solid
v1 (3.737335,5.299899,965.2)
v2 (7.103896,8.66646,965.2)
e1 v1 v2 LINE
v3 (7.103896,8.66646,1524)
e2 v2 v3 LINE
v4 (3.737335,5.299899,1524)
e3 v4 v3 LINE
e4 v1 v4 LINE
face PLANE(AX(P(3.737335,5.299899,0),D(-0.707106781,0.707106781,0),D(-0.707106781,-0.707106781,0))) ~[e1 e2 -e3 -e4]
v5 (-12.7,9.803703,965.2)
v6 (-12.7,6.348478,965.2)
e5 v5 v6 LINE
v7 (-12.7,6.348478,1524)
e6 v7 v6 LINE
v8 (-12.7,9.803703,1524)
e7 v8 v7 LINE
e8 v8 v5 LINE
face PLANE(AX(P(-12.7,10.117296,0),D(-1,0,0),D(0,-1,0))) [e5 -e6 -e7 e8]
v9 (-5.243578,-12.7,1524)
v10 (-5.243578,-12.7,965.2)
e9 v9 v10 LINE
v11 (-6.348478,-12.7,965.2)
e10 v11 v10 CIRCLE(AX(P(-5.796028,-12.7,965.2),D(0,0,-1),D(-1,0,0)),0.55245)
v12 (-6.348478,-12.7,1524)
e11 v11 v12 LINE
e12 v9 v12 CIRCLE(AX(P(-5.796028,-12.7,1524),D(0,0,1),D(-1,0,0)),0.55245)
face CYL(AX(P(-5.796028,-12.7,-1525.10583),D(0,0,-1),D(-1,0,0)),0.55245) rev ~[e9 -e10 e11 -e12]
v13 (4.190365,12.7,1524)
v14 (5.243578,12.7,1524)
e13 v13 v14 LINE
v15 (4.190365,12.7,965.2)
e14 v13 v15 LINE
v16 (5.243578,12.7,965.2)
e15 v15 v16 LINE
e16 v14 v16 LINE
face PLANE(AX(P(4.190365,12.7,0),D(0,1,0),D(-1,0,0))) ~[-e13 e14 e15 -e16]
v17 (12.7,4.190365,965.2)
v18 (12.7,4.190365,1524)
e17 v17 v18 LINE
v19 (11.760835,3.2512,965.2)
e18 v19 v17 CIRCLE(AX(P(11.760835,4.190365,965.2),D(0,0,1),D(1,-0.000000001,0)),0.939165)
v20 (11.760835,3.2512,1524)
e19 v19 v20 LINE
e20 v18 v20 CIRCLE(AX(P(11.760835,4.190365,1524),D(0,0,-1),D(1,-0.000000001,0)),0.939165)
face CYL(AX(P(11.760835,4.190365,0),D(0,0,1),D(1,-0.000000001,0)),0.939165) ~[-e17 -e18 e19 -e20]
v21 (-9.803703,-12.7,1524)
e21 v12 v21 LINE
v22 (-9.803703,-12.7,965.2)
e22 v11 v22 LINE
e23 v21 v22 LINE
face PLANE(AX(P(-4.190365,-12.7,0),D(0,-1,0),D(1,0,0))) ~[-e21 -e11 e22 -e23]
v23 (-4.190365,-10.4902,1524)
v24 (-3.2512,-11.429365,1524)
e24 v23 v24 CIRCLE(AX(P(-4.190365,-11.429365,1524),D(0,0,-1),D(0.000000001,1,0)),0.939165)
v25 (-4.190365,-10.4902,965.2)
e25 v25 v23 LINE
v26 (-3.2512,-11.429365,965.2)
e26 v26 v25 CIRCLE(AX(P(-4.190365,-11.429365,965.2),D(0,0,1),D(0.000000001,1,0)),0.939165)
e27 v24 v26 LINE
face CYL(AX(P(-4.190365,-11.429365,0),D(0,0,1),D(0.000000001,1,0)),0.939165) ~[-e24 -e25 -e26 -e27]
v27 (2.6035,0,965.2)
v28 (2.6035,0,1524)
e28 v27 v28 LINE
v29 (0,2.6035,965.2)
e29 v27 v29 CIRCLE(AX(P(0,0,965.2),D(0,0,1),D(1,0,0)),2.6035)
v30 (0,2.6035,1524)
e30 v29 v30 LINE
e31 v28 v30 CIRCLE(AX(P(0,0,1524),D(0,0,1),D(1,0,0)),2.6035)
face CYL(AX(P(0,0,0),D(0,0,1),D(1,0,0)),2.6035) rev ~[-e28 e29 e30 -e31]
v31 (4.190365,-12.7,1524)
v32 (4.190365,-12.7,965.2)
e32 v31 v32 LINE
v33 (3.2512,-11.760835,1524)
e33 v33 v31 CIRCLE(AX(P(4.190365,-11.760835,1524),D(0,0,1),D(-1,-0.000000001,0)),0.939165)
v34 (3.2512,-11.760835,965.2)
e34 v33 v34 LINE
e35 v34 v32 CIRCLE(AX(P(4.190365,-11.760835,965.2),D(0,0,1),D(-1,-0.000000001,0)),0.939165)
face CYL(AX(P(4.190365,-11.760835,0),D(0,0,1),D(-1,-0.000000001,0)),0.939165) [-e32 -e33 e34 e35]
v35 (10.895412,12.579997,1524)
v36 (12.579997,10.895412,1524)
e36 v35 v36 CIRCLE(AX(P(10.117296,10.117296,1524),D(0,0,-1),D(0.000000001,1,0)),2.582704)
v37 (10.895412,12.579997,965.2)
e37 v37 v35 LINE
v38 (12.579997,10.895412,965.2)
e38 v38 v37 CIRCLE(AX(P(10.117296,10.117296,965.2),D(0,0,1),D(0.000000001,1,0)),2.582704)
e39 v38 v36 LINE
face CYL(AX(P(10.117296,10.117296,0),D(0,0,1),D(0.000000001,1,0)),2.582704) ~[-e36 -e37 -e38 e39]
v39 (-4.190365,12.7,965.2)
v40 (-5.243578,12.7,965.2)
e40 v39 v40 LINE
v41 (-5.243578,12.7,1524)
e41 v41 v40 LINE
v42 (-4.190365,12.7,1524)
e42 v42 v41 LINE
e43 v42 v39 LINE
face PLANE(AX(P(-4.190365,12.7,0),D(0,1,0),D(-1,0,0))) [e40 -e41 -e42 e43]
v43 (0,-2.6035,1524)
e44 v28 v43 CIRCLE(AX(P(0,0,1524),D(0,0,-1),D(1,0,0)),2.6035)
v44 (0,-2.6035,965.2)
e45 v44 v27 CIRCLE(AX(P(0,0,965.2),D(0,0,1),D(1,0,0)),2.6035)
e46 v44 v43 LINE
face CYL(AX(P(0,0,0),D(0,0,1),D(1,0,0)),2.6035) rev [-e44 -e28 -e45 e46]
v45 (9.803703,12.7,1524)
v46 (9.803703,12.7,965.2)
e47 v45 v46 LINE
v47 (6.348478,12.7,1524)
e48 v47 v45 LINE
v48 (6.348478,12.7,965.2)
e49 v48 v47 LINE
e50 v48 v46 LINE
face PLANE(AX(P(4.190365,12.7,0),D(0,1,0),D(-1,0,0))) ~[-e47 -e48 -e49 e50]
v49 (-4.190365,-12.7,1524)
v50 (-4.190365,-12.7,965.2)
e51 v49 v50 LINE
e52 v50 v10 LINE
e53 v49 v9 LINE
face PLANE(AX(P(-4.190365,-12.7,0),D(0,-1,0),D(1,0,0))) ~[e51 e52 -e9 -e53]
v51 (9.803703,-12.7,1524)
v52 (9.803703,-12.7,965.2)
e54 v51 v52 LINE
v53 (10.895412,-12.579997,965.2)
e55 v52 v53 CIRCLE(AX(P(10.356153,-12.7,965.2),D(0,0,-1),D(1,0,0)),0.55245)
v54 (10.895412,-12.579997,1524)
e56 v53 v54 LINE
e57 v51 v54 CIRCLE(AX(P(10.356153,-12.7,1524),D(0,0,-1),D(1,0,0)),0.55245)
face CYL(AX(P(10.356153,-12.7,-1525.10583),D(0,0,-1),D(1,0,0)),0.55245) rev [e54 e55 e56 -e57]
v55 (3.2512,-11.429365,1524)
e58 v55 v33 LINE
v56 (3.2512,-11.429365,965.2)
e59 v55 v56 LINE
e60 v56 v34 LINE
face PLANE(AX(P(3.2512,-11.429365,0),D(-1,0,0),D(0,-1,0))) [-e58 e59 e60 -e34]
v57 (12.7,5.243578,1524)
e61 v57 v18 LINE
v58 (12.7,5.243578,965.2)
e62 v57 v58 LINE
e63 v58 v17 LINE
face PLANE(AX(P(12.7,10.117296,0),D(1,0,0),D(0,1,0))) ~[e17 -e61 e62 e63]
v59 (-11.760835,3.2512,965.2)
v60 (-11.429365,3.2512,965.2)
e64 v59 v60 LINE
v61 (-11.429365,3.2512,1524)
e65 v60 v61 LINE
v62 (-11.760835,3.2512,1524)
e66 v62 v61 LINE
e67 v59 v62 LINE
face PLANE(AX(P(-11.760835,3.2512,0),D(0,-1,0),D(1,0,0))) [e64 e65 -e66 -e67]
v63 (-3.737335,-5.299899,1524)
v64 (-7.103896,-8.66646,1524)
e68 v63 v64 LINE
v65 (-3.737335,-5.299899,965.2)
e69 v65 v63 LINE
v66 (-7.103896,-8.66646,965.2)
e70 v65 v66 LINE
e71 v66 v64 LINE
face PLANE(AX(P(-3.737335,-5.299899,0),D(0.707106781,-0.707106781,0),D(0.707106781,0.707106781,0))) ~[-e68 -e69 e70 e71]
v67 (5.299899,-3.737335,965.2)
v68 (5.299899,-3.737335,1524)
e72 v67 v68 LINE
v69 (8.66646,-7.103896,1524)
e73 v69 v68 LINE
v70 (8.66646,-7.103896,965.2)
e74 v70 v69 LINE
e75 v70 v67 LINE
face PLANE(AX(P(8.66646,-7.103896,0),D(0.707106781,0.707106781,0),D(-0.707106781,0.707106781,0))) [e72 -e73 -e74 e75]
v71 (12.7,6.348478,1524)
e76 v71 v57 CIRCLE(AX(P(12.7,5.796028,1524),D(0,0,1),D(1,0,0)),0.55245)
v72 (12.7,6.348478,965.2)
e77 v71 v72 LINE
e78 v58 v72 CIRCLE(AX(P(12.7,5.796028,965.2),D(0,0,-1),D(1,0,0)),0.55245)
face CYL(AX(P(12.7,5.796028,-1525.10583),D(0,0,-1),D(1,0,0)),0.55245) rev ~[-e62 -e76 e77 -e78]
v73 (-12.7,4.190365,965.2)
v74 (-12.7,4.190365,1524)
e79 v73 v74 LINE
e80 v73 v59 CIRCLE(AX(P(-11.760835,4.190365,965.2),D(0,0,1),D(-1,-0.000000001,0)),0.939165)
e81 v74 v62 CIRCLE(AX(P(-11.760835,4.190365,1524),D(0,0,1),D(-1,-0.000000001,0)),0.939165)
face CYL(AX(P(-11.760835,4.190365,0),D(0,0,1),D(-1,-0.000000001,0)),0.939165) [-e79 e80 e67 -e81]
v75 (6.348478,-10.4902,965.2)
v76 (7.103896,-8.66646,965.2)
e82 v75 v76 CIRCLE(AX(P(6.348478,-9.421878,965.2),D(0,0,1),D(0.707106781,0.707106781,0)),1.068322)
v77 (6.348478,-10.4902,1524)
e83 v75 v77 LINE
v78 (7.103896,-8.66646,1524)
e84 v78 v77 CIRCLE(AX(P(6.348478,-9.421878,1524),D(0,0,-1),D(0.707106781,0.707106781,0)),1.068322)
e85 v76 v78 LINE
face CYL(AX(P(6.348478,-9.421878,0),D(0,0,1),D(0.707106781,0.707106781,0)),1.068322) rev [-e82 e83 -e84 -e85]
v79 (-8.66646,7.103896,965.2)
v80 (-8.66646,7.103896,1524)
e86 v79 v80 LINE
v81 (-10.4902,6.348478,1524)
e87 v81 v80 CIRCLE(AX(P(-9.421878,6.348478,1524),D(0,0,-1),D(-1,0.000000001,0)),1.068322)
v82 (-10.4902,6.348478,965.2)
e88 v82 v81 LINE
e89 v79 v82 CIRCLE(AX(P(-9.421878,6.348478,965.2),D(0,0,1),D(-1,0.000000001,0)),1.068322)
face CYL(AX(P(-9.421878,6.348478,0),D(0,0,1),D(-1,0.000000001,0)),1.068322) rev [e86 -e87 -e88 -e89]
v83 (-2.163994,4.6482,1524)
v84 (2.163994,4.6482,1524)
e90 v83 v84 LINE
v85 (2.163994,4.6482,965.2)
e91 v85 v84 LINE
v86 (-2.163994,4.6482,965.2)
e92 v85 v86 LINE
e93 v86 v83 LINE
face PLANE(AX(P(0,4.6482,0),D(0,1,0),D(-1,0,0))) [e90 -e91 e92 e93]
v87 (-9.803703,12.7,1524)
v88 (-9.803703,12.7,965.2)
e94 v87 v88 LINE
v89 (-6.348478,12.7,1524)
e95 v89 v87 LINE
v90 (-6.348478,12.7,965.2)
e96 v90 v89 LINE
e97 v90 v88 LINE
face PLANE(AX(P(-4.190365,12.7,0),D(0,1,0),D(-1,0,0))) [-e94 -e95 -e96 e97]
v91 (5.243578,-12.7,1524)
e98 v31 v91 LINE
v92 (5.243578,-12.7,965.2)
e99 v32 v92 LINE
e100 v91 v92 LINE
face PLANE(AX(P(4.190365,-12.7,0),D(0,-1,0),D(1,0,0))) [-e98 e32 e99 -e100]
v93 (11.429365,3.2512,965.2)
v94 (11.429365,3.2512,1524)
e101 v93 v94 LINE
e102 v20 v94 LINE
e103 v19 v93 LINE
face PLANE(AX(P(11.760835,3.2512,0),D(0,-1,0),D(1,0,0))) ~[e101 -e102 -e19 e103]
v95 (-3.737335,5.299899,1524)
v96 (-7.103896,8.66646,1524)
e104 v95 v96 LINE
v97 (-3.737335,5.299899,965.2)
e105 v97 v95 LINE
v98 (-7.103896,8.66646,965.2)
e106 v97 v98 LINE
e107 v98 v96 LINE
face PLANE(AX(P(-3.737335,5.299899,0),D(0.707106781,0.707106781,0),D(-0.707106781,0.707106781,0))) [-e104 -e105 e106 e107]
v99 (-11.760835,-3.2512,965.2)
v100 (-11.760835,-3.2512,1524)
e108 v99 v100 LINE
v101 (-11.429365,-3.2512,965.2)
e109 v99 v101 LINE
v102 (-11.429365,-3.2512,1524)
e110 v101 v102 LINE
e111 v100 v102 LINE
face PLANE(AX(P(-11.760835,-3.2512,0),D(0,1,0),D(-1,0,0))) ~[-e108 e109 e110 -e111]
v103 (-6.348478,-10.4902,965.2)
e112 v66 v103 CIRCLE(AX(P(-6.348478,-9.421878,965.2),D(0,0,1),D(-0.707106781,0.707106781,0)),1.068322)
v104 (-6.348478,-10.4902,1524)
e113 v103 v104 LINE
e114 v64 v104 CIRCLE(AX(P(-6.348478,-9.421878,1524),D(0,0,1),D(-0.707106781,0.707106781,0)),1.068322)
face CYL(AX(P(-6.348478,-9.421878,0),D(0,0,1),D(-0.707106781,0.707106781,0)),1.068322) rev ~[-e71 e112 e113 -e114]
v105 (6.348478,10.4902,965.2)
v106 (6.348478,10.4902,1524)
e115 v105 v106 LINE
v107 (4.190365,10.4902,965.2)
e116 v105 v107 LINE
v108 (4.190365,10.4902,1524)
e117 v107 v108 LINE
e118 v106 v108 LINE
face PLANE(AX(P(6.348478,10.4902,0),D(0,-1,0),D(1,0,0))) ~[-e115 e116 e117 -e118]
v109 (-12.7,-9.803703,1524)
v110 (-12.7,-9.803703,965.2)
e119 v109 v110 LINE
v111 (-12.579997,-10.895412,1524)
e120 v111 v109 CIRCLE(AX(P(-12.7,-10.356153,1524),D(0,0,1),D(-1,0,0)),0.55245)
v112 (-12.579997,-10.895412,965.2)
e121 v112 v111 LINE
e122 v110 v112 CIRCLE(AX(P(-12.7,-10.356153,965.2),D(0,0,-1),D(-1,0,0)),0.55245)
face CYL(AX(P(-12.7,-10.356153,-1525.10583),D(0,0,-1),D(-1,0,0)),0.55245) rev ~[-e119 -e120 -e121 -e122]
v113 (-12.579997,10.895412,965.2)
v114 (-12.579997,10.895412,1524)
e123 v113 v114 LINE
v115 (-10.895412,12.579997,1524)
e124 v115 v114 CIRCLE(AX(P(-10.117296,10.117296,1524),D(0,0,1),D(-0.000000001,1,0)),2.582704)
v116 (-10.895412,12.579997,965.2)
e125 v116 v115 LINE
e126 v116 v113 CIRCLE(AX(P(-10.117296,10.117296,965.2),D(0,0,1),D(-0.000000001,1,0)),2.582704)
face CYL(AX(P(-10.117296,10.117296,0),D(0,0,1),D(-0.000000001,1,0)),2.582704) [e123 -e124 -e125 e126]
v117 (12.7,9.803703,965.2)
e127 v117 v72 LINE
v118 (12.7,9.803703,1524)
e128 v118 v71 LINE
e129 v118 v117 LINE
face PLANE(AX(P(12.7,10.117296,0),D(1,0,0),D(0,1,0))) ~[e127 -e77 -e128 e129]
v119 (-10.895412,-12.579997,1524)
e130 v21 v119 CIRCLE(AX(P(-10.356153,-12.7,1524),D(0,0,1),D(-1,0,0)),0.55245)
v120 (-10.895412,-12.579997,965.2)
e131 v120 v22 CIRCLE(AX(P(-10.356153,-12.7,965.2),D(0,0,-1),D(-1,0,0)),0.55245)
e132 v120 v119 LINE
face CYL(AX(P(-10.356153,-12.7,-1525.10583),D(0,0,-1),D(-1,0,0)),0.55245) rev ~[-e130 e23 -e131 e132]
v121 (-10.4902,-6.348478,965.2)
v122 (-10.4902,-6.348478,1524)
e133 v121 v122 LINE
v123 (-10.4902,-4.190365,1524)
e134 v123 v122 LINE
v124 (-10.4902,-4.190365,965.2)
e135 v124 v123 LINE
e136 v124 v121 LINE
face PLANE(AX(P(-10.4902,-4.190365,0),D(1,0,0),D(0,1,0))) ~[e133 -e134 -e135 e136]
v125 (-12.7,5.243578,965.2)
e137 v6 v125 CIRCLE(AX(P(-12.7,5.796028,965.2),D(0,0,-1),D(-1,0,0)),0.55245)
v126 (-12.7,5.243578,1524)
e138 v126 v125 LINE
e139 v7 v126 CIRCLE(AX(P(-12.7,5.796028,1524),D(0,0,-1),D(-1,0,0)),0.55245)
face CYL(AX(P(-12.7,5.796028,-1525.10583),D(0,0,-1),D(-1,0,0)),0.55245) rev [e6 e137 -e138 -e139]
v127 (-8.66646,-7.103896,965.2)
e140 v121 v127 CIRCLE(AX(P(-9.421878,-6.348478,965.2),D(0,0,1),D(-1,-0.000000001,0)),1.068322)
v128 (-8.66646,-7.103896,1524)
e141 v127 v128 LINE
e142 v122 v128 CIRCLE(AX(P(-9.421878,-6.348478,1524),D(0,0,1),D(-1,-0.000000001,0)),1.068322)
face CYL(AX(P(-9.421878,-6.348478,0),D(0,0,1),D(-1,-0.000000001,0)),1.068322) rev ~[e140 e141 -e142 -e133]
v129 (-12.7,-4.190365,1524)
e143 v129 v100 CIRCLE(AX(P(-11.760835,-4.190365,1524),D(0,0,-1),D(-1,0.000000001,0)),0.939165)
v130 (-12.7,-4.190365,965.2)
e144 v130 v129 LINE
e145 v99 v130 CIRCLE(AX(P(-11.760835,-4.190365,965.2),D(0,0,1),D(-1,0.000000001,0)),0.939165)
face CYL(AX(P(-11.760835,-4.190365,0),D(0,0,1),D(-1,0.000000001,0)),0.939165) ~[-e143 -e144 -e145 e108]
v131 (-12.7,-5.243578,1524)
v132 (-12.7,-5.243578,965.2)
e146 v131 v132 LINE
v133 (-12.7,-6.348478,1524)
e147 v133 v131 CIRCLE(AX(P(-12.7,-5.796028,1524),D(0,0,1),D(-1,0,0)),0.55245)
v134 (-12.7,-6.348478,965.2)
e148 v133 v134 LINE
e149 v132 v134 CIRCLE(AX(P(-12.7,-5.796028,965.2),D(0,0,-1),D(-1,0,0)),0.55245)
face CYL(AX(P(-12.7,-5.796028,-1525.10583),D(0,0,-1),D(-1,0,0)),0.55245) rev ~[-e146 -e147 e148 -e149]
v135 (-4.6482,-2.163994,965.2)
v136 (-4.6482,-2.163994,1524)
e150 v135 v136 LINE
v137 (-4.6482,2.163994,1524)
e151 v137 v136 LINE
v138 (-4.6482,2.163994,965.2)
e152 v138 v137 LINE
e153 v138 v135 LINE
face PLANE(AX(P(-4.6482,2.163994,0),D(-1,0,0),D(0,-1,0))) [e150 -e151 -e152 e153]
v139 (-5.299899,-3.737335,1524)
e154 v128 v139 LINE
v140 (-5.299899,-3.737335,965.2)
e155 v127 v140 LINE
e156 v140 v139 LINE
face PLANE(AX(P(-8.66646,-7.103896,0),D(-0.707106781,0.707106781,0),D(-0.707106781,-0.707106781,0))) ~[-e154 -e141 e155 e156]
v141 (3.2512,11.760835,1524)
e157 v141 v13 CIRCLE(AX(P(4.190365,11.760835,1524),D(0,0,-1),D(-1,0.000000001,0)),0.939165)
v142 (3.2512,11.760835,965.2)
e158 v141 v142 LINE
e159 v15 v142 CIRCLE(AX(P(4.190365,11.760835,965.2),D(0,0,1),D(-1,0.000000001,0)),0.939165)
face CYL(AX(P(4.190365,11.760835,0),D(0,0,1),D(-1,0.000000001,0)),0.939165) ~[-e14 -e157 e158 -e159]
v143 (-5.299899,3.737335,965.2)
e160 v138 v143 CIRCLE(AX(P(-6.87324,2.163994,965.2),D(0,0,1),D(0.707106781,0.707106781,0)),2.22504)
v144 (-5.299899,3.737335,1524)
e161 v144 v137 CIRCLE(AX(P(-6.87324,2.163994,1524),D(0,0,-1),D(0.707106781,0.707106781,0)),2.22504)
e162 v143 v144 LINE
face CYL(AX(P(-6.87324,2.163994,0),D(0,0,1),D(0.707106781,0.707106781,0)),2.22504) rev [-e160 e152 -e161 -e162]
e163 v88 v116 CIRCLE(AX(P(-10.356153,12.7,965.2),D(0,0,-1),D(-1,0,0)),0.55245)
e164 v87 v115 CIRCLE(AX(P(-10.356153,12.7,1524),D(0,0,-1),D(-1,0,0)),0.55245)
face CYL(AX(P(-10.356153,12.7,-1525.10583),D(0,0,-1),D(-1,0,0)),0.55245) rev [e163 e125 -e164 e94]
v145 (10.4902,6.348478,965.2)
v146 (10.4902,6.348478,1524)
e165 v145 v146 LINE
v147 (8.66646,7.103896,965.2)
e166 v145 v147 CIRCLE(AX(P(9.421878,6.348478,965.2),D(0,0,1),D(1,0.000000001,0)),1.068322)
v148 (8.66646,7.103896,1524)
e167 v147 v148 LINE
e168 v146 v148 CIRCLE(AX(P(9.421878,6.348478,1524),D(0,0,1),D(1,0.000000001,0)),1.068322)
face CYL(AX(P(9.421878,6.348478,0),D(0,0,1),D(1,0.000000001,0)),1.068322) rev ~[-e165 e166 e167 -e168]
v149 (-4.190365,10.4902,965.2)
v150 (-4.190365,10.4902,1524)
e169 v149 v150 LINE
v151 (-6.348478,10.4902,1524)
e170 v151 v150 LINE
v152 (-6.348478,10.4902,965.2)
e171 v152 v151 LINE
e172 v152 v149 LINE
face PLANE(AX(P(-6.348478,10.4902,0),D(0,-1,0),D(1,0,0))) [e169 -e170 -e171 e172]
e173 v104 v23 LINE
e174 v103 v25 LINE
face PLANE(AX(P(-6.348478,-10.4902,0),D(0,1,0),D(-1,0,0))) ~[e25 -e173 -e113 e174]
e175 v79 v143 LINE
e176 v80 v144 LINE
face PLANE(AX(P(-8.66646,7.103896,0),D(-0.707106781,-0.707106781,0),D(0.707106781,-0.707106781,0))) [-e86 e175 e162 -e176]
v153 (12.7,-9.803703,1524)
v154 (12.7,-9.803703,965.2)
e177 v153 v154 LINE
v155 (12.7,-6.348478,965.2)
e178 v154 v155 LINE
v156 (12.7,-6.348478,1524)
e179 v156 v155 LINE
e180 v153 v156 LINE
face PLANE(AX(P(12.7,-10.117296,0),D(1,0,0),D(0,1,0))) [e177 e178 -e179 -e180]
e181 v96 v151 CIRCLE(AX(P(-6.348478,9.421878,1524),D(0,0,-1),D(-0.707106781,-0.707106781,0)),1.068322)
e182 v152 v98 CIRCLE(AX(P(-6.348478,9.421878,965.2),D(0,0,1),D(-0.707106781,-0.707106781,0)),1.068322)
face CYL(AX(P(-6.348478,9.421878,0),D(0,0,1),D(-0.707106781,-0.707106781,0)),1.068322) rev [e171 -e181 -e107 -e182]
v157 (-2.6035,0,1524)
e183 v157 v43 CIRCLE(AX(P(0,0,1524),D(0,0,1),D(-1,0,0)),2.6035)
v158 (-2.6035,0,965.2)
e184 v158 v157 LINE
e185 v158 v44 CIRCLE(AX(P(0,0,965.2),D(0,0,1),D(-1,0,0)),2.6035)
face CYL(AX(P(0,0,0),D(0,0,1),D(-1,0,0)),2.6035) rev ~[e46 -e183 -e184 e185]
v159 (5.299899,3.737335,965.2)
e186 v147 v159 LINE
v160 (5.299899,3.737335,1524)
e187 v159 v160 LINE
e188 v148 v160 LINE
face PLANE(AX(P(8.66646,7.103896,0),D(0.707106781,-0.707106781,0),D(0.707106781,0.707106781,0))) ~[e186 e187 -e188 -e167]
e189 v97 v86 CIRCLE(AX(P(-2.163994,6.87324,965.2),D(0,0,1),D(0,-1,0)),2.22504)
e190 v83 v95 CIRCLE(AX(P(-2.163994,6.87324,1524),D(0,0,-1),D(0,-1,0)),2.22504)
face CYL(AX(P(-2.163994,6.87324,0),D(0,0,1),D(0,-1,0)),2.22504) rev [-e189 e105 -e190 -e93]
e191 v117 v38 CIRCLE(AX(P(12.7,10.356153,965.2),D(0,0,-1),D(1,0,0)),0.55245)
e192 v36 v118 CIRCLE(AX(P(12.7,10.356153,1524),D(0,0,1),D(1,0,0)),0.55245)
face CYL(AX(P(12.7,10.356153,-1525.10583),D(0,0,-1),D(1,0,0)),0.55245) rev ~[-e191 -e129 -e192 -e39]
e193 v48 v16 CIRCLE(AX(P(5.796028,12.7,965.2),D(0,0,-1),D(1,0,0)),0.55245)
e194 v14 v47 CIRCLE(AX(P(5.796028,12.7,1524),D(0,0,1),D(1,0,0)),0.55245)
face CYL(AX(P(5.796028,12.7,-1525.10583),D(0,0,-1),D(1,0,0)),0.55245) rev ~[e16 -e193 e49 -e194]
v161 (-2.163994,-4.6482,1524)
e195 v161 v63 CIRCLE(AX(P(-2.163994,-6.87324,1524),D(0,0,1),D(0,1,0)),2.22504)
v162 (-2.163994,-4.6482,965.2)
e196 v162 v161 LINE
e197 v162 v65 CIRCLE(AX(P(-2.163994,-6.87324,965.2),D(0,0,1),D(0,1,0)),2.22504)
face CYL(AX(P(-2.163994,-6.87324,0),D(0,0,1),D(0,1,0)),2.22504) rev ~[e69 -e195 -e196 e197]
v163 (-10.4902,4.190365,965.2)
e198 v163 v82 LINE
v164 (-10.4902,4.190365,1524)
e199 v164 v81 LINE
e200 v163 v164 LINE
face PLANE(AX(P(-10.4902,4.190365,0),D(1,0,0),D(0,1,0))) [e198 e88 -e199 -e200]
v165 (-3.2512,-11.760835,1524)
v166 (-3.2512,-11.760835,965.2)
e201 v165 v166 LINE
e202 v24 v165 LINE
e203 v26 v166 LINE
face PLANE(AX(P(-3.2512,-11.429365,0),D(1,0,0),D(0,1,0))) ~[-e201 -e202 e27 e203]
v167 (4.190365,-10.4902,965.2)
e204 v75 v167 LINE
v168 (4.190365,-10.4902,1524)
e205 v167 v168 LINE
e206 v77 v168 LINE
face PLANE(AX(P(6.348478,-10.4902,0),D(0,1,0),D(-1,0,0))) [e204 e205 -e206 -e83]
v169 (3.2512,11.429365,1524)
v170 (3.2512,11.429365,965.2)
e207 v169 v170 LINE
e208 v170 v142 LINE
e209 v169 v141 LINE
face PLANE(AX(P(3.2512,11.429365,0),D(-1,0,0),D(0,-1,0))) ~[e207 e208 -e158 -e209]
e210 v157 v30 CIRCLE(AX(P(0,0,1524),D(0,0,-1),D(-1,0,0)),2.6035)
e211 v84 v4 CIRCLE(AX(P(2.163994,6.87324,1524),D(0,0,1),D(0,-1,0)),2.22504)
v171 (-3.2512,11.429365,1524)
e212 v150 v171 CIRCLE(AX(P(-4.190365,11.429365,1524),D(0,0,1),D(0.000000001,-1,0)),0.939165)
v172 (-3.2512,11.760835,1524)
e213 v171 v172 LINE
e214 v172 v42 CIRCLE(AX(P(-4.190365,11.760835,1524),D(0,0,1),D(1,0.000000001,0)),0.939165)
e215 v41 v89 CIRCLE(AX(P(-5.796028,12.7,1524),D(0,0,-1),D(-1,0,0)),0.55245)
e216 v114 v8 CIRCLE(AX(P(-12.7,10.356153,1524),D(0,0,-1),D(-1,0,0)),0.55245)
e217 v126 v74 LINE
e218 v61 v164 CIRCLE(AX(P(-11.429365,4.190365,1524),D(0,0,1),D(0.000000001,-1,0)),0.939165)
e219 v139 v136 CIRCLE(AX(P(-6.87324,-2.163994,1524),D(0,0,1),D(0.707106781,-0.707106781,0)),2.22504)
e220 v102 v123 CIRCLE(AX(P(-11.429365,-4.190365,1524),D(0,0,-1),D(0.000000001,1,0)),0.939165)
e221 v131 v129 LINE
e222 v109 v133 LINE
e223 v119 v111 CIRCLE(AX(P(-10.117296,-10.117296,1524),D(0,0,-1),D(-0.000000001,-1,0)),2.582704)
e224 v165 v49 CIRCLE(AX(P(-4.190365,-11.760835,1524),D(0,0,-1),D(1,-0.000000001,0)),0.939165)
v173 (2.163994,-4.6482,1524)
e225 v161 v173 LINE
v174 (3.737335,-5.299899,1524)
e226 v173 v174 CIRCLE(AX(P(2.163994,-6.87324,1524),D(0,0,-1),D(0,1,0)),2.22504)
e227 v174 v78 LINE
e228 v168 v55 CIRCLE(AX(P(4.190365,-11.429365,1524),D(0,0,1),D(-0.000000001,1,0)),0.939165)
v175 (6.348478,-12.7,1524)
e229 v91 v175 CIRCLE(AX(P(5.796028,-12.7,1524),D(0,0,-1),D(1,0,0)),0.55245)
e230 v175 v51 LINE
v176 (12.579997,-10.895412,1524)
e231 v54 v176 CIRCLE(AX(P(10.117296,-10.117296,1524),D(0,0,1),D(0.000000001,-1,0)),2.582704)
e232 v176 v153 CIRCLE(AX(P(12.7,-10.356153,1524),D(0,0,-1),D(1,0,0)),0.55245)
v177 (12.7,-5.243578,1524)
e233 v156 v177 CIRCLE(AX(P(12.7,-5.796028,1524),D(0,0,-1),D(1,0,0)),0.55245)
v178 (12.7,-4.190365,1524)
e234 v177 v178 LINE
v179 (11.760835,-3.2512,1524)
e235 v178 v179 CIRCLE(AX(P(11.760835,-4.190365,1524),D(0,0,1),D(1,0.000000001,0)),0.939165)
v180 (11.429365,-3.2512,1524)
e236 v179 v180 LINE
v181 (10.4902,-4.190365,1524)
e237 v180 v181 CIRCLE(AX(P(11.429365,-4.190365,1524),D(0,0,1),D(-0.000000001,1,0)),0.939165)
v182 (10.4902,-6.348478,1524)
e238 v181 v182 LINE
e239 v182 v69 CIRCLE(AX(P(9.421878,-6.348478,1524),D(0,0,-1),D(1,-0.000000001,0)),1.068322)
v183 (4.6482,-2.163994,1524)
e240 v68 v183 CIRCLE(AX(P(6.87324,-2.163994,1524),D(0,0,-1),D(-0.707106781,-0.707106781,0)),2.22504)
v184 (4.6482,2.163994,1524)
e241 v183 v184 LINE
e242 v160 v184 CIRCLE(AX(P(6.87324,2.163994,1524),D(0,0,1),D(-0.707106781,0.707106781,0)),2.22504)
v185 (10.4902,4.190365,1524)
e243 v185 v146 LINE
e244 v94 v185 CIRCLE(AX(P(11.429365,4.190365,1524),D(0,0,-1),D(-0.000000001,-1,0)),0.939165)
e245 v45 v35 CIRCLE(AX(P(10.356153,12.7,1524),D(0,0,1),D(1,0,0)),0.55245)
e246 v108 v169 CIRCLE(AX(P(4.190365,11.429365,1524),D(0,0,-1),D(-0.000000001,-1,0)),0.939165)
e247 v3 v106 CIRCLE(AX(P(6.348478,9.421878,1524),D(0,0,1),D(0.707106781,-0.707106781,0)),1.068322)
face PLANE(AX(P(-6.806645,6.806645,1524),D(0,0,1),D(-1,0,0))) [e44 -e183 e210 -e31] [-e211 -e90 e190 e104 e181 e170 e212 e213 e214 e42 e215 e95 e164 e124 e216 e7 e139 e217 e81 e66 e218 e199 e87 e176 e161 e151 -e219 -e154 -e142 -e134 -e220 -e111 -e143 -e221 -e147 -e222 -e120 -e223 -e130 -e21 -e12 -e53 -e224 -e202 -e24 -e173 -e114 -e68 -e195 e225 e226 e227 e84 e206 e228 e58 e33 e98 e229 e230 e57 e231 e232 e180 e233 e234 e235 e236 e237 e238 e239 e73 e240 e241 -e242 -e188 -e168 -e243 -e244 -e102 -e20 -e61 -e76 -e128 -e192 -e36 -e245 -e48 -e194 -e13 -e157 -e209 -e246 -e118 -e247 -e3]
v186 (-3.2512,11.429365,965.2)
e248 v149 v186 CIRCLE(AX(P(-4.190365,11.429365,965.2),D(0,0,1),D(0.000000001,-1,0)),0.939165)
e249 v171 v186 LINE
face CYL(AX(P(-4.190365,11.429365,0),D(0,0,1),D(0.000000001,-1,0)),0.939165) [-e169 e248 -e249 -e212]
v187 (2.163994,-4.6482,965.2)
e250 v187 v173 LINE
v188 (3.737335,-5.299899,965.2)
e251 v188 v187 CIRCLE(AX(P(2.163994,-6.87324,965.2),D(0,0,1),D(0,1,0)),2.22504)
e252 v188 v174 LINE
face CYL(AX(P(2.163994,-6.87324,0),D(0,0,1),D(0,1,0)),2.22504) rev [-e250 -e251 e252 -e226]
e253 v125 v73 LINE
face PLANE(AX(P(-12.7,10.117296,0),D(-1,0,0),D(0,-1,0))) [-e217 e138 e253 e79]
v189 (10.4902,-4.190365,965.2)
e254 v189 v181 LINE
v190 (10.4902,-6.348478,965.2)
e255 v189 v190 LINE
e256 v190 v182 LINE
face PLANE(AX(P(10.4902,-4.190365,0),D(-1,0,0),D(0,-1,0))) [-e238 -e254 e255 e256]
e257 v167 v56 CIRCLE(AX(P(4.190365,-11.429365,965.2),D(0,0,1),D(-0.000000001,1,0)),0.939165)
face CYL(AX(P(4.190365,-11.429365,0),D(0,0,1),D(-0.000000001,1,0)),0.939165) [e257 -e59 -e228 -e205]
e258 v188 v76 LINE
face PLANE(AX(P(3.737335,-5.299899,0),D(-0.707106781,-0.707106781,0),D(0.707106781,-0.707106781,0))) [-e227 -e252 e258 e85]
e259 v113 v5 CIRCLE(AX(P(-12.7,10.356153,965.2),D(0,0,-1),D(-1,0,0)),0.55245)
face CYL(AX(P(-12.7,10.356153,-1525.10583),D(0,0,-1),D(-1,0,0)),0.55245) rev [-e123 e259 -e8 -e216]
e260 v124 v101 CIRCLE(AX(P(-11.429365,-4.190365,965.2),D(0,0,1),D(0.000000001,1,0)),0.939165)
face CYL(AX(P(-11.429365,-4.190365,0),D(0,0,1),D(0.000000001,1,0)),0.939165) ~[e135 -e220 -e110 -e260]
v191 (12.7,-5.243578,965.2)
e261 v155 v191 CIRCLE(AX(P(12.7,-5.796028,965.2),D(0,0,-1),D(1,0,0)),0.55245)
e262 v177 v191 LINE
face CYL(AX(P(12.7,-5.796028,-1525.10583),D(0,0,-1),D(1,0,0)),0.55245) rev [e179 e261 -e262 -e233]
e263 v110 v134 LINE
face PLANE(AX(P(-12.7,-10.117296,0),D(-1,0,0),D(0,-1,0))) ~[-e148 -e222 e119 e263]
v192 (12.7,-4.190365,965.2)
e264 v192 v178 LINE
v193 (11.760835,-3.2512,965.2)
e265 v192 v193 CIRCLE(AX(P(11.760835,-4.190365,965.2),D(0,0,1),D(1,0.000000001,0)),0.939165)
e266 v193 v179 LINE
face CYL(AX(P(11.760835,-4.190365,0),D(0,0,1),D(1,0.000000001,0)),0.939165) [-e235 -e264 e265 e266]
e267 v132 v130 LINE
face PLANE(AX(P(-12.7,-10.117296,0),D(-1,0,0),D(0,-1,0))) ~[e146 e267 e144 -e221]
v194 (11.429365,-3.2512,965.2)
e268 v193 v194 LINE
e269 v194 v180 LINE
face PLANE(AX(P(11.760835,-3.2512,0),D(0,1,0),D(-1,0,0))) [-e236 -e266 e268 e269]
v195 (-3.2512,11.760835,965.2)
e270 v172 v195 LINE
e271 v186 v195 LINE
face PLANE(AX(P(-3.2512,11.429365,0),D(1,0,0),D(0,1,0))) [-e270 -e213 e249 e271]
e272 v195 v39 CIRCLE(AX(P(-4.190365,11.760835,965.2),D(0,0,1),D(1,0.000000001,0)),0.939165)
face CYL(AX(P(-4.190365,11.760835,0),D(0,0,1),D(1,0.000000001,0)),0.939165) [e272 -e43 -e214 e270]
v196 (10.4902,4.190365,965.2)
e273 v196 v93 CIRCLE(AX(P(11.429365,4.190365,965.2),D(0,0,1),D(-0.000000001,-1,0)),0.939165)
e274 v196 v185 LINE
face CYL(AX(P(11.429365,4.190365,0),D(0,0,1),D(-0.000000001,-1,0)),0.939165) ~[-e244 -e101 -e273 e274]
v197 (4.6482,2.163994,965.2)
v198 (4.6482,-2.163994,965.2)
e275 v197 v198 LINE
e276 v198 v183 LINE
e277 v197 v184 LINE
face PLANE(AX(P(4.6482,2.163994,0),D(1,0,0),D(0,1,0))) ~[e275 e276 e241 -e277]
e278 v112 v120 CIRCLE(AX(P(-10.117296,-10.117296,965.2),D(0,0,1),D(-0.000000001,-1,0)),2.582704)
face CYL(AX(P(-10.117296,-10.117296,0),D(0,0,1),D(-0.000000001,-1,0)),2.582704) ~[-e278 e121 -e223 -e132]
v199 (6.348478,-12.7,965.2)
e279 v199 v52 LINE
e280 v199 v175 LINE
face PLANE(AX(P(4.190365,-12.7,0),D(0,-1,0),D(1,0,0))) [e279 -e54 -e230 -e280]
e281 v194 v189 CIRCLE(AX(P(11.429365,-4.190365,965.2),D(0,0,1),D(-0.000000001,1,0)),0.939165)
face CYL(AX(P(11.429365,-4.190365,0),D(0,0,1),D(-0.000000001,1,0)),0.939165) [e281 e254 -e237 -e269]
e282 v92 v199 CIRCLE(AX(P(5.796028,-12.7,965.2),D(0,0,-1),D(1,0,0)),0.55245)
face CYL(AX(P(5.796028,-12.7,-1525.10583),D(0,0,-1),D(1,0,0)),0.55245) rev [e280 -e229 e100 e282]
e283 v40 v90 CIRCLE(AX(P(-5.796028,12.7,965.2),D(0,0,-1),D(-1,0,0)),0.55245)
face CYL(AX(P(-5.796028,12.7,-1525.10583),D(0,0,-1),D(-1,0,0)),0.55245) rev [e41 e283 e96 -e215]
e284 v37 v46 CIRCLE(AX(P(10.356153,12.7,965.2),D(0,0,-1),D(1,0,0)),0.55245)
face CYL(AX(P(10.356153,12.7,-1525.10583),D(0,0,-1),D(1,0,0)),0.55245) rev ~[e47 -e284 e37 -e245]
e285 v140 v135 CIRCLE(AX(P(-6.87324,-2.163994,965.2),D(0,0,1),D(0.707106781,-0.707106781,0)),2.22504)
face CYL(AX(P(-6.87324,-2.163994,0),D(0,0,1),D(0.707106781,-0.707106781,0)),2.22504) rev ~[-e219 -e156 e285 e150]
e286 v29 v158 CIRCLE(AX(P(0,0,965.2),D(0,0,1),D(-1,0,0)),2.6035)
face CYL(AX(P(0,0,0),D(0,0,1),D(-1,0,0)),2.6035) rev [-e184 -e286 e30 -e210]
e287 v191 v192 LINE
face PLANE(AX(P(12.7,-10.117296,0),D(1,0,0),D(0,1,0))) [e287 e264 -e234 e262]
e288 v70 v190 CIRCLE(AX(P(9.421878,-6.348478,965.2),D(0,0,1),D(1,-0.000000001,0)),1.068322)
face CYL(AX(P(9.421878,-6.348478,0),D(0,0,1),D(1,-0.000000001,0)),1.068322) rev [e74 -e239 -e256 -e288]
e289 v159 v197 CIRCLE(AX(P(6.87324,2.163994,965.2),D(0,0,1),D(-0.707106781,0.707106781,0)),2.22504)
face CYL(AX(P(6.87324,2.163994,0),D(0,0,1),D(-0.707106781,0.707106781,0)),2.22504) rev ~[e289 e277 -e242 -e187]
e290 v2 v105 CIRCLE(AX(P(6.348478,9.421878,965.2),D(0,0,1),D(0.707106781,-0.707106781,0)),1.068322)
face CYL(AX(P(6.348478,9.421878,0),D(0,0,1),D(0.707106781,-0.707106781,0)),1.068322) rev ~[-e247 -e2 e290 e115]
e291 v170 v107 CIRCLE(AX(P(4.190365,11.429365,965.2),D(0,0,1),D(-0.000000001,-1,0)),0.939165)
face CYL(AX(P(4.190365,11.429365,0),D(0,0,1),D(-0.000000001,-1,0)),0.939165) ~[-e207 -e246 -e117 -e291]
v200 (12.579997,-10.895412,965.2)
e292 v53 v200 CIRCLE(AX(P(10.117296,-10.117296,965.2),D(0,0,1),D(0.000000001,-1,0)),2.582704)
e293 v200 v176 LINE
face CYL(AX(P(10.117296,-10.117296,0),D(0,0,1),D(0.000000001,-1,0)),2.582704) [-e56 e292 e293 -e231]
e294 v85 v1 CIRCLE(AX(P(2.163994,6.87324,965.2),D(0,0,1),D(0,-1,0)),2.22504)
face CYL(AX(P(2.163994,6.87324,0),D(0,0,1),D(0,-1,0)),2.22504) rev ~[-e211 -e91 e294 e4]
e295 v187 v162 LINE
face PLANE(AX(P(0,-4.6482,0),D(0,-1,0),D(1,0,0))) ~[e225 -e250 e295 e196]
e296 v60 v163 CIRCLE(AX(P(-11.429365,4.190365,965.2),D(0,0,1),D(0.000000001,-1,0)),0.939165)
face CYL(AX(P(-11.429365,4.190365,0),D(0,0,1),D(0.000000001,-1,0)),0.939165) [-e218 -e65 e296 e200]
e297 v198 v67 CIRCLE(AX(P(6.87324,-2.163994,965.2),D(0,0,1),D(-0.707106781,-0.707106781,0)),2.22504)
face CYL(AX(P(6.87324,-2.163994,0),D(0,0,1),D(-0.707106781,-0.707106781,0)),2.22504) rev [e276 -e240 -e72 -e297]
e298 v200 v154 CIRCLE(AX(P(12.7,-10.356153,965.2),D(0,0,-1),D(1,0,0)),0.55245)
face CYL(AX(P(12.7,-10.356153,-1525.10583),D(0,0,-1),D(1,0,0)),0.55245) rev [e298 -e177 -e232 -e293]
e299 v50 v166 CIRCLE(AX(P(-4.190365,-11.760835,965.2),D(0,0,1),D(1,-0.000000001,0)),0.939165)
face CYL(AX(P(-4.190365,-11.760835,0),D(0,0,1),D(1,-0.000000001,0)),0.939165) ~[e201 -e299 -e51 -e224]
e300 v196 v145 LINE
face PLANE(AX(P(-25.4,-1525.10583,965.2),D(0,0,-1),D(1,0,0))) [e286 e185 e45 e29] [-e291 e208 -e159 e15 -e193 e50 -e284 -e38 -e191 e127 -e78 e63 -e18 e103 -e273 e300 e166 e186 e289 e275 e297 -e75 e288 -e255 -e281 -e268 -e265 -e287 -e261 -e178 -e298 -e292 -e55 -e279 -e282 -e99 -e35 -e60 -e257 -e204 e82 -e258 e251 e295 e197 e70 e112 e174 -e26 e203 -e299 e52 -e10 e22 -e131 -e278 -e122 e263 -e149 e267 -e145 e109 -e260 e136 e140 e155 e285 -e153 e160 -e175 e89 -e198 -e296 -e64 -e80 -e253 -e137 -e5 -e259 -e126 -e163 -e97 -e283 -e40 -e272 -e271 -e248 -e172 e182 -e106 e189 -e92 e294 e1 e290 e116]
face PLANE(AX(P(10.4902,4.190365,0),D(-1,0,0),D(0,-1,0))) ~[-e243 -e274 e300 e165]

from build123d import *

# Parameters (mm, degrees)
BOSS_EXTRUDE1_DEPTH     = 1524
CUT_EXTRUDE1_DEPTH      = 1525.105829659
CUT_EXTRUDE1_DEPTH_BACK = 1525.105829659
SKETCH5_R               = 0.55245
CUT_EXTRUDE2_DEPTH      = 1525.105829659
CUT_EXTRUDE2_DEPTH_BACK = 1525.105829659
SKETCH8_W               = 50.559993734
SKETCH8_H               = 1231.9
CUT_EXTRUDE3_DEPTH      = 1525.105829659
CUT_EXTRUDE3_DEPTH_BACK = 1525.105829659
SKETCH9_W               = 50.679996867
SKETCH9_H               = 1282.7


with BuildPart() as part:
    # Sketch4 → Boss-Extrude1 (new, symmetric)
    with BuildSketch(Plane.XY):
        with BuildLine():
            Line((4.190365, -12.7), (10.11729625, -12.7))
            ThreePointArc((10.11729625, -12.7), (11.943543585, -11.943543585), (12.7, -10.11729625))
            Line((12.7, -10.11729625), (12.7, -4.190365))
            ThreePointArc((12.7, -4.190365), (12.42492494, -3.52627506), (11.760835, -3.2512))
            Line((11.760835, -3.2512), (11.429365, -3.2512))
            ThreePointArc((11.429365, -3.2512), (10.76527506, -3.52627506), (10.4902, -4.190365))
            Line((10.4902, -4.190365), (10.4902, -6.348478019))
            ThreePointArc((10.4902, -6.348478019), (9.830707141, -7.335478831), (8.666460301, -7.103895736))
            Line((8.666460301, -7.103895736), (5.299899128, -3.737334563))
            ThreePointArc((5.299899128, -3.737334563), (4.817571085, -3.015479634), (4.6482, -2.16399369))
            Line((4.6482, -2.16399369), (4.6482, 0))
            Line((4.6482, 0), (2.6035, 0))
            ThreePointArc((2.6035, 0), (1.840952505, -1.840952505), (0, -2.6035))
            Line((0, -2.6035), (0, -4.6482))
            Line((0, -4.6482), (2.16399369, -4.6482))
            ThreePointArc((2.16399369, -4.6482), (3.015479634, -4.817571085), (3.737334563, -5.299899128))
            Line((3.737334563, -5.299899128), (7.103895736, -8.666460301))
            ThreePointArc((7.103895736, -8.666460301), (7.335478831, -9.830707141), (6.348478019, -10.4902))
            Line((6.348478019, -10.4902), (4.190365, -10.4902))
            ThreePointArc((4.190365, -10.4902), (3.52627506, -10.76527506), (3.2512, -11.429365))
            Line((3.2512, -11.429365), (3.2512, -11.760835))
            ThreePointArc((3.2512, -11.760835), (3.52627506, -12.42492494), (4.190365, -12.7))
        make_face()
    extrude(amount=BOSS_EXTRUDE1_DEPTH, both=True)

    # Sketch5 → Cut-Extrude1 (cut, two sides: drawn at the far end of the back side and taken through both)
    with BuildSketch(Plane.XY.offset(-CUT_EXTRUDE1_DEPTH_BACK)):
        with Locations((10.356153152, -12.7)):
            Circle(SKETCH5_R)
        with Locations((5.796028019, -12.7)):
            Circle(SKETCH5_R)
        with Locations((12.7, -10.356153152)):
            Circle(SKETCH5_R)
        with Locations((12.7, -5.796028019)):
            Circle(SKETCH5_R)
    extrude(amount=CUT_EXTRUDE1_DEPTH + CUT_EXTRUDE1_DEPTH_BACK, mode=Mode.SUBTRACT)

    # Mirror1: part across plane


with BuildPart() as part_1:
    add(part.part)
    add(part.part.mirror(Plane(origin=(0, 0, 0), x_dir=(0, 0, 1), z_dir=(1, 0, 0))))

    # Mirror2: part across plane


with BuildPart() as part_2:
    add(part_1.part)
    add(part_1.part.mirror(Plane.ZX))

    # Sketch8 → Cut-Extrude2 (cut, two sides: drawn at the far end of the back side and taken through both)
    with BuildSketch(Plane(origin=(0, 0, 0), x_dir=(1, 0, 0), z_dir=(0, 1, 0)).offset(-CUT_EXTRUDE2_DEPTH_BACK)):
        with Locations((0, 920.75)):
            Rectangle(SKETCH8_W, SKETCH8_H)
    extrude(amount=CUT_EXTRUDE2_DEPTH + CUT_EXTRUDE2_DEPTH_BACK, mode=Mode.SUBTRACT)

    # Sketch9 → Cut-Extrude3 (cut, two sides: drawn at the far end of the back side and taken through both)
    with BuildSketch(Plane(origin=(0, 0, 0), x_dir=(1, 0, 0), z_dir=(0, 1, 0)).offset(-CUT_EXTRUDE3_DEPTH_BACK)):
        with Locations((-0.060001567, -323.85)):
            Rectangle(SKETCH9_W, SKETCH9_H)
    extrude(amount=CUT_EXTRUDE3_DEPTH + CUT_EXTRUDE3_DEPTH_BACK, mode=Mode.SUBTRACT)


solid = part_2.part
